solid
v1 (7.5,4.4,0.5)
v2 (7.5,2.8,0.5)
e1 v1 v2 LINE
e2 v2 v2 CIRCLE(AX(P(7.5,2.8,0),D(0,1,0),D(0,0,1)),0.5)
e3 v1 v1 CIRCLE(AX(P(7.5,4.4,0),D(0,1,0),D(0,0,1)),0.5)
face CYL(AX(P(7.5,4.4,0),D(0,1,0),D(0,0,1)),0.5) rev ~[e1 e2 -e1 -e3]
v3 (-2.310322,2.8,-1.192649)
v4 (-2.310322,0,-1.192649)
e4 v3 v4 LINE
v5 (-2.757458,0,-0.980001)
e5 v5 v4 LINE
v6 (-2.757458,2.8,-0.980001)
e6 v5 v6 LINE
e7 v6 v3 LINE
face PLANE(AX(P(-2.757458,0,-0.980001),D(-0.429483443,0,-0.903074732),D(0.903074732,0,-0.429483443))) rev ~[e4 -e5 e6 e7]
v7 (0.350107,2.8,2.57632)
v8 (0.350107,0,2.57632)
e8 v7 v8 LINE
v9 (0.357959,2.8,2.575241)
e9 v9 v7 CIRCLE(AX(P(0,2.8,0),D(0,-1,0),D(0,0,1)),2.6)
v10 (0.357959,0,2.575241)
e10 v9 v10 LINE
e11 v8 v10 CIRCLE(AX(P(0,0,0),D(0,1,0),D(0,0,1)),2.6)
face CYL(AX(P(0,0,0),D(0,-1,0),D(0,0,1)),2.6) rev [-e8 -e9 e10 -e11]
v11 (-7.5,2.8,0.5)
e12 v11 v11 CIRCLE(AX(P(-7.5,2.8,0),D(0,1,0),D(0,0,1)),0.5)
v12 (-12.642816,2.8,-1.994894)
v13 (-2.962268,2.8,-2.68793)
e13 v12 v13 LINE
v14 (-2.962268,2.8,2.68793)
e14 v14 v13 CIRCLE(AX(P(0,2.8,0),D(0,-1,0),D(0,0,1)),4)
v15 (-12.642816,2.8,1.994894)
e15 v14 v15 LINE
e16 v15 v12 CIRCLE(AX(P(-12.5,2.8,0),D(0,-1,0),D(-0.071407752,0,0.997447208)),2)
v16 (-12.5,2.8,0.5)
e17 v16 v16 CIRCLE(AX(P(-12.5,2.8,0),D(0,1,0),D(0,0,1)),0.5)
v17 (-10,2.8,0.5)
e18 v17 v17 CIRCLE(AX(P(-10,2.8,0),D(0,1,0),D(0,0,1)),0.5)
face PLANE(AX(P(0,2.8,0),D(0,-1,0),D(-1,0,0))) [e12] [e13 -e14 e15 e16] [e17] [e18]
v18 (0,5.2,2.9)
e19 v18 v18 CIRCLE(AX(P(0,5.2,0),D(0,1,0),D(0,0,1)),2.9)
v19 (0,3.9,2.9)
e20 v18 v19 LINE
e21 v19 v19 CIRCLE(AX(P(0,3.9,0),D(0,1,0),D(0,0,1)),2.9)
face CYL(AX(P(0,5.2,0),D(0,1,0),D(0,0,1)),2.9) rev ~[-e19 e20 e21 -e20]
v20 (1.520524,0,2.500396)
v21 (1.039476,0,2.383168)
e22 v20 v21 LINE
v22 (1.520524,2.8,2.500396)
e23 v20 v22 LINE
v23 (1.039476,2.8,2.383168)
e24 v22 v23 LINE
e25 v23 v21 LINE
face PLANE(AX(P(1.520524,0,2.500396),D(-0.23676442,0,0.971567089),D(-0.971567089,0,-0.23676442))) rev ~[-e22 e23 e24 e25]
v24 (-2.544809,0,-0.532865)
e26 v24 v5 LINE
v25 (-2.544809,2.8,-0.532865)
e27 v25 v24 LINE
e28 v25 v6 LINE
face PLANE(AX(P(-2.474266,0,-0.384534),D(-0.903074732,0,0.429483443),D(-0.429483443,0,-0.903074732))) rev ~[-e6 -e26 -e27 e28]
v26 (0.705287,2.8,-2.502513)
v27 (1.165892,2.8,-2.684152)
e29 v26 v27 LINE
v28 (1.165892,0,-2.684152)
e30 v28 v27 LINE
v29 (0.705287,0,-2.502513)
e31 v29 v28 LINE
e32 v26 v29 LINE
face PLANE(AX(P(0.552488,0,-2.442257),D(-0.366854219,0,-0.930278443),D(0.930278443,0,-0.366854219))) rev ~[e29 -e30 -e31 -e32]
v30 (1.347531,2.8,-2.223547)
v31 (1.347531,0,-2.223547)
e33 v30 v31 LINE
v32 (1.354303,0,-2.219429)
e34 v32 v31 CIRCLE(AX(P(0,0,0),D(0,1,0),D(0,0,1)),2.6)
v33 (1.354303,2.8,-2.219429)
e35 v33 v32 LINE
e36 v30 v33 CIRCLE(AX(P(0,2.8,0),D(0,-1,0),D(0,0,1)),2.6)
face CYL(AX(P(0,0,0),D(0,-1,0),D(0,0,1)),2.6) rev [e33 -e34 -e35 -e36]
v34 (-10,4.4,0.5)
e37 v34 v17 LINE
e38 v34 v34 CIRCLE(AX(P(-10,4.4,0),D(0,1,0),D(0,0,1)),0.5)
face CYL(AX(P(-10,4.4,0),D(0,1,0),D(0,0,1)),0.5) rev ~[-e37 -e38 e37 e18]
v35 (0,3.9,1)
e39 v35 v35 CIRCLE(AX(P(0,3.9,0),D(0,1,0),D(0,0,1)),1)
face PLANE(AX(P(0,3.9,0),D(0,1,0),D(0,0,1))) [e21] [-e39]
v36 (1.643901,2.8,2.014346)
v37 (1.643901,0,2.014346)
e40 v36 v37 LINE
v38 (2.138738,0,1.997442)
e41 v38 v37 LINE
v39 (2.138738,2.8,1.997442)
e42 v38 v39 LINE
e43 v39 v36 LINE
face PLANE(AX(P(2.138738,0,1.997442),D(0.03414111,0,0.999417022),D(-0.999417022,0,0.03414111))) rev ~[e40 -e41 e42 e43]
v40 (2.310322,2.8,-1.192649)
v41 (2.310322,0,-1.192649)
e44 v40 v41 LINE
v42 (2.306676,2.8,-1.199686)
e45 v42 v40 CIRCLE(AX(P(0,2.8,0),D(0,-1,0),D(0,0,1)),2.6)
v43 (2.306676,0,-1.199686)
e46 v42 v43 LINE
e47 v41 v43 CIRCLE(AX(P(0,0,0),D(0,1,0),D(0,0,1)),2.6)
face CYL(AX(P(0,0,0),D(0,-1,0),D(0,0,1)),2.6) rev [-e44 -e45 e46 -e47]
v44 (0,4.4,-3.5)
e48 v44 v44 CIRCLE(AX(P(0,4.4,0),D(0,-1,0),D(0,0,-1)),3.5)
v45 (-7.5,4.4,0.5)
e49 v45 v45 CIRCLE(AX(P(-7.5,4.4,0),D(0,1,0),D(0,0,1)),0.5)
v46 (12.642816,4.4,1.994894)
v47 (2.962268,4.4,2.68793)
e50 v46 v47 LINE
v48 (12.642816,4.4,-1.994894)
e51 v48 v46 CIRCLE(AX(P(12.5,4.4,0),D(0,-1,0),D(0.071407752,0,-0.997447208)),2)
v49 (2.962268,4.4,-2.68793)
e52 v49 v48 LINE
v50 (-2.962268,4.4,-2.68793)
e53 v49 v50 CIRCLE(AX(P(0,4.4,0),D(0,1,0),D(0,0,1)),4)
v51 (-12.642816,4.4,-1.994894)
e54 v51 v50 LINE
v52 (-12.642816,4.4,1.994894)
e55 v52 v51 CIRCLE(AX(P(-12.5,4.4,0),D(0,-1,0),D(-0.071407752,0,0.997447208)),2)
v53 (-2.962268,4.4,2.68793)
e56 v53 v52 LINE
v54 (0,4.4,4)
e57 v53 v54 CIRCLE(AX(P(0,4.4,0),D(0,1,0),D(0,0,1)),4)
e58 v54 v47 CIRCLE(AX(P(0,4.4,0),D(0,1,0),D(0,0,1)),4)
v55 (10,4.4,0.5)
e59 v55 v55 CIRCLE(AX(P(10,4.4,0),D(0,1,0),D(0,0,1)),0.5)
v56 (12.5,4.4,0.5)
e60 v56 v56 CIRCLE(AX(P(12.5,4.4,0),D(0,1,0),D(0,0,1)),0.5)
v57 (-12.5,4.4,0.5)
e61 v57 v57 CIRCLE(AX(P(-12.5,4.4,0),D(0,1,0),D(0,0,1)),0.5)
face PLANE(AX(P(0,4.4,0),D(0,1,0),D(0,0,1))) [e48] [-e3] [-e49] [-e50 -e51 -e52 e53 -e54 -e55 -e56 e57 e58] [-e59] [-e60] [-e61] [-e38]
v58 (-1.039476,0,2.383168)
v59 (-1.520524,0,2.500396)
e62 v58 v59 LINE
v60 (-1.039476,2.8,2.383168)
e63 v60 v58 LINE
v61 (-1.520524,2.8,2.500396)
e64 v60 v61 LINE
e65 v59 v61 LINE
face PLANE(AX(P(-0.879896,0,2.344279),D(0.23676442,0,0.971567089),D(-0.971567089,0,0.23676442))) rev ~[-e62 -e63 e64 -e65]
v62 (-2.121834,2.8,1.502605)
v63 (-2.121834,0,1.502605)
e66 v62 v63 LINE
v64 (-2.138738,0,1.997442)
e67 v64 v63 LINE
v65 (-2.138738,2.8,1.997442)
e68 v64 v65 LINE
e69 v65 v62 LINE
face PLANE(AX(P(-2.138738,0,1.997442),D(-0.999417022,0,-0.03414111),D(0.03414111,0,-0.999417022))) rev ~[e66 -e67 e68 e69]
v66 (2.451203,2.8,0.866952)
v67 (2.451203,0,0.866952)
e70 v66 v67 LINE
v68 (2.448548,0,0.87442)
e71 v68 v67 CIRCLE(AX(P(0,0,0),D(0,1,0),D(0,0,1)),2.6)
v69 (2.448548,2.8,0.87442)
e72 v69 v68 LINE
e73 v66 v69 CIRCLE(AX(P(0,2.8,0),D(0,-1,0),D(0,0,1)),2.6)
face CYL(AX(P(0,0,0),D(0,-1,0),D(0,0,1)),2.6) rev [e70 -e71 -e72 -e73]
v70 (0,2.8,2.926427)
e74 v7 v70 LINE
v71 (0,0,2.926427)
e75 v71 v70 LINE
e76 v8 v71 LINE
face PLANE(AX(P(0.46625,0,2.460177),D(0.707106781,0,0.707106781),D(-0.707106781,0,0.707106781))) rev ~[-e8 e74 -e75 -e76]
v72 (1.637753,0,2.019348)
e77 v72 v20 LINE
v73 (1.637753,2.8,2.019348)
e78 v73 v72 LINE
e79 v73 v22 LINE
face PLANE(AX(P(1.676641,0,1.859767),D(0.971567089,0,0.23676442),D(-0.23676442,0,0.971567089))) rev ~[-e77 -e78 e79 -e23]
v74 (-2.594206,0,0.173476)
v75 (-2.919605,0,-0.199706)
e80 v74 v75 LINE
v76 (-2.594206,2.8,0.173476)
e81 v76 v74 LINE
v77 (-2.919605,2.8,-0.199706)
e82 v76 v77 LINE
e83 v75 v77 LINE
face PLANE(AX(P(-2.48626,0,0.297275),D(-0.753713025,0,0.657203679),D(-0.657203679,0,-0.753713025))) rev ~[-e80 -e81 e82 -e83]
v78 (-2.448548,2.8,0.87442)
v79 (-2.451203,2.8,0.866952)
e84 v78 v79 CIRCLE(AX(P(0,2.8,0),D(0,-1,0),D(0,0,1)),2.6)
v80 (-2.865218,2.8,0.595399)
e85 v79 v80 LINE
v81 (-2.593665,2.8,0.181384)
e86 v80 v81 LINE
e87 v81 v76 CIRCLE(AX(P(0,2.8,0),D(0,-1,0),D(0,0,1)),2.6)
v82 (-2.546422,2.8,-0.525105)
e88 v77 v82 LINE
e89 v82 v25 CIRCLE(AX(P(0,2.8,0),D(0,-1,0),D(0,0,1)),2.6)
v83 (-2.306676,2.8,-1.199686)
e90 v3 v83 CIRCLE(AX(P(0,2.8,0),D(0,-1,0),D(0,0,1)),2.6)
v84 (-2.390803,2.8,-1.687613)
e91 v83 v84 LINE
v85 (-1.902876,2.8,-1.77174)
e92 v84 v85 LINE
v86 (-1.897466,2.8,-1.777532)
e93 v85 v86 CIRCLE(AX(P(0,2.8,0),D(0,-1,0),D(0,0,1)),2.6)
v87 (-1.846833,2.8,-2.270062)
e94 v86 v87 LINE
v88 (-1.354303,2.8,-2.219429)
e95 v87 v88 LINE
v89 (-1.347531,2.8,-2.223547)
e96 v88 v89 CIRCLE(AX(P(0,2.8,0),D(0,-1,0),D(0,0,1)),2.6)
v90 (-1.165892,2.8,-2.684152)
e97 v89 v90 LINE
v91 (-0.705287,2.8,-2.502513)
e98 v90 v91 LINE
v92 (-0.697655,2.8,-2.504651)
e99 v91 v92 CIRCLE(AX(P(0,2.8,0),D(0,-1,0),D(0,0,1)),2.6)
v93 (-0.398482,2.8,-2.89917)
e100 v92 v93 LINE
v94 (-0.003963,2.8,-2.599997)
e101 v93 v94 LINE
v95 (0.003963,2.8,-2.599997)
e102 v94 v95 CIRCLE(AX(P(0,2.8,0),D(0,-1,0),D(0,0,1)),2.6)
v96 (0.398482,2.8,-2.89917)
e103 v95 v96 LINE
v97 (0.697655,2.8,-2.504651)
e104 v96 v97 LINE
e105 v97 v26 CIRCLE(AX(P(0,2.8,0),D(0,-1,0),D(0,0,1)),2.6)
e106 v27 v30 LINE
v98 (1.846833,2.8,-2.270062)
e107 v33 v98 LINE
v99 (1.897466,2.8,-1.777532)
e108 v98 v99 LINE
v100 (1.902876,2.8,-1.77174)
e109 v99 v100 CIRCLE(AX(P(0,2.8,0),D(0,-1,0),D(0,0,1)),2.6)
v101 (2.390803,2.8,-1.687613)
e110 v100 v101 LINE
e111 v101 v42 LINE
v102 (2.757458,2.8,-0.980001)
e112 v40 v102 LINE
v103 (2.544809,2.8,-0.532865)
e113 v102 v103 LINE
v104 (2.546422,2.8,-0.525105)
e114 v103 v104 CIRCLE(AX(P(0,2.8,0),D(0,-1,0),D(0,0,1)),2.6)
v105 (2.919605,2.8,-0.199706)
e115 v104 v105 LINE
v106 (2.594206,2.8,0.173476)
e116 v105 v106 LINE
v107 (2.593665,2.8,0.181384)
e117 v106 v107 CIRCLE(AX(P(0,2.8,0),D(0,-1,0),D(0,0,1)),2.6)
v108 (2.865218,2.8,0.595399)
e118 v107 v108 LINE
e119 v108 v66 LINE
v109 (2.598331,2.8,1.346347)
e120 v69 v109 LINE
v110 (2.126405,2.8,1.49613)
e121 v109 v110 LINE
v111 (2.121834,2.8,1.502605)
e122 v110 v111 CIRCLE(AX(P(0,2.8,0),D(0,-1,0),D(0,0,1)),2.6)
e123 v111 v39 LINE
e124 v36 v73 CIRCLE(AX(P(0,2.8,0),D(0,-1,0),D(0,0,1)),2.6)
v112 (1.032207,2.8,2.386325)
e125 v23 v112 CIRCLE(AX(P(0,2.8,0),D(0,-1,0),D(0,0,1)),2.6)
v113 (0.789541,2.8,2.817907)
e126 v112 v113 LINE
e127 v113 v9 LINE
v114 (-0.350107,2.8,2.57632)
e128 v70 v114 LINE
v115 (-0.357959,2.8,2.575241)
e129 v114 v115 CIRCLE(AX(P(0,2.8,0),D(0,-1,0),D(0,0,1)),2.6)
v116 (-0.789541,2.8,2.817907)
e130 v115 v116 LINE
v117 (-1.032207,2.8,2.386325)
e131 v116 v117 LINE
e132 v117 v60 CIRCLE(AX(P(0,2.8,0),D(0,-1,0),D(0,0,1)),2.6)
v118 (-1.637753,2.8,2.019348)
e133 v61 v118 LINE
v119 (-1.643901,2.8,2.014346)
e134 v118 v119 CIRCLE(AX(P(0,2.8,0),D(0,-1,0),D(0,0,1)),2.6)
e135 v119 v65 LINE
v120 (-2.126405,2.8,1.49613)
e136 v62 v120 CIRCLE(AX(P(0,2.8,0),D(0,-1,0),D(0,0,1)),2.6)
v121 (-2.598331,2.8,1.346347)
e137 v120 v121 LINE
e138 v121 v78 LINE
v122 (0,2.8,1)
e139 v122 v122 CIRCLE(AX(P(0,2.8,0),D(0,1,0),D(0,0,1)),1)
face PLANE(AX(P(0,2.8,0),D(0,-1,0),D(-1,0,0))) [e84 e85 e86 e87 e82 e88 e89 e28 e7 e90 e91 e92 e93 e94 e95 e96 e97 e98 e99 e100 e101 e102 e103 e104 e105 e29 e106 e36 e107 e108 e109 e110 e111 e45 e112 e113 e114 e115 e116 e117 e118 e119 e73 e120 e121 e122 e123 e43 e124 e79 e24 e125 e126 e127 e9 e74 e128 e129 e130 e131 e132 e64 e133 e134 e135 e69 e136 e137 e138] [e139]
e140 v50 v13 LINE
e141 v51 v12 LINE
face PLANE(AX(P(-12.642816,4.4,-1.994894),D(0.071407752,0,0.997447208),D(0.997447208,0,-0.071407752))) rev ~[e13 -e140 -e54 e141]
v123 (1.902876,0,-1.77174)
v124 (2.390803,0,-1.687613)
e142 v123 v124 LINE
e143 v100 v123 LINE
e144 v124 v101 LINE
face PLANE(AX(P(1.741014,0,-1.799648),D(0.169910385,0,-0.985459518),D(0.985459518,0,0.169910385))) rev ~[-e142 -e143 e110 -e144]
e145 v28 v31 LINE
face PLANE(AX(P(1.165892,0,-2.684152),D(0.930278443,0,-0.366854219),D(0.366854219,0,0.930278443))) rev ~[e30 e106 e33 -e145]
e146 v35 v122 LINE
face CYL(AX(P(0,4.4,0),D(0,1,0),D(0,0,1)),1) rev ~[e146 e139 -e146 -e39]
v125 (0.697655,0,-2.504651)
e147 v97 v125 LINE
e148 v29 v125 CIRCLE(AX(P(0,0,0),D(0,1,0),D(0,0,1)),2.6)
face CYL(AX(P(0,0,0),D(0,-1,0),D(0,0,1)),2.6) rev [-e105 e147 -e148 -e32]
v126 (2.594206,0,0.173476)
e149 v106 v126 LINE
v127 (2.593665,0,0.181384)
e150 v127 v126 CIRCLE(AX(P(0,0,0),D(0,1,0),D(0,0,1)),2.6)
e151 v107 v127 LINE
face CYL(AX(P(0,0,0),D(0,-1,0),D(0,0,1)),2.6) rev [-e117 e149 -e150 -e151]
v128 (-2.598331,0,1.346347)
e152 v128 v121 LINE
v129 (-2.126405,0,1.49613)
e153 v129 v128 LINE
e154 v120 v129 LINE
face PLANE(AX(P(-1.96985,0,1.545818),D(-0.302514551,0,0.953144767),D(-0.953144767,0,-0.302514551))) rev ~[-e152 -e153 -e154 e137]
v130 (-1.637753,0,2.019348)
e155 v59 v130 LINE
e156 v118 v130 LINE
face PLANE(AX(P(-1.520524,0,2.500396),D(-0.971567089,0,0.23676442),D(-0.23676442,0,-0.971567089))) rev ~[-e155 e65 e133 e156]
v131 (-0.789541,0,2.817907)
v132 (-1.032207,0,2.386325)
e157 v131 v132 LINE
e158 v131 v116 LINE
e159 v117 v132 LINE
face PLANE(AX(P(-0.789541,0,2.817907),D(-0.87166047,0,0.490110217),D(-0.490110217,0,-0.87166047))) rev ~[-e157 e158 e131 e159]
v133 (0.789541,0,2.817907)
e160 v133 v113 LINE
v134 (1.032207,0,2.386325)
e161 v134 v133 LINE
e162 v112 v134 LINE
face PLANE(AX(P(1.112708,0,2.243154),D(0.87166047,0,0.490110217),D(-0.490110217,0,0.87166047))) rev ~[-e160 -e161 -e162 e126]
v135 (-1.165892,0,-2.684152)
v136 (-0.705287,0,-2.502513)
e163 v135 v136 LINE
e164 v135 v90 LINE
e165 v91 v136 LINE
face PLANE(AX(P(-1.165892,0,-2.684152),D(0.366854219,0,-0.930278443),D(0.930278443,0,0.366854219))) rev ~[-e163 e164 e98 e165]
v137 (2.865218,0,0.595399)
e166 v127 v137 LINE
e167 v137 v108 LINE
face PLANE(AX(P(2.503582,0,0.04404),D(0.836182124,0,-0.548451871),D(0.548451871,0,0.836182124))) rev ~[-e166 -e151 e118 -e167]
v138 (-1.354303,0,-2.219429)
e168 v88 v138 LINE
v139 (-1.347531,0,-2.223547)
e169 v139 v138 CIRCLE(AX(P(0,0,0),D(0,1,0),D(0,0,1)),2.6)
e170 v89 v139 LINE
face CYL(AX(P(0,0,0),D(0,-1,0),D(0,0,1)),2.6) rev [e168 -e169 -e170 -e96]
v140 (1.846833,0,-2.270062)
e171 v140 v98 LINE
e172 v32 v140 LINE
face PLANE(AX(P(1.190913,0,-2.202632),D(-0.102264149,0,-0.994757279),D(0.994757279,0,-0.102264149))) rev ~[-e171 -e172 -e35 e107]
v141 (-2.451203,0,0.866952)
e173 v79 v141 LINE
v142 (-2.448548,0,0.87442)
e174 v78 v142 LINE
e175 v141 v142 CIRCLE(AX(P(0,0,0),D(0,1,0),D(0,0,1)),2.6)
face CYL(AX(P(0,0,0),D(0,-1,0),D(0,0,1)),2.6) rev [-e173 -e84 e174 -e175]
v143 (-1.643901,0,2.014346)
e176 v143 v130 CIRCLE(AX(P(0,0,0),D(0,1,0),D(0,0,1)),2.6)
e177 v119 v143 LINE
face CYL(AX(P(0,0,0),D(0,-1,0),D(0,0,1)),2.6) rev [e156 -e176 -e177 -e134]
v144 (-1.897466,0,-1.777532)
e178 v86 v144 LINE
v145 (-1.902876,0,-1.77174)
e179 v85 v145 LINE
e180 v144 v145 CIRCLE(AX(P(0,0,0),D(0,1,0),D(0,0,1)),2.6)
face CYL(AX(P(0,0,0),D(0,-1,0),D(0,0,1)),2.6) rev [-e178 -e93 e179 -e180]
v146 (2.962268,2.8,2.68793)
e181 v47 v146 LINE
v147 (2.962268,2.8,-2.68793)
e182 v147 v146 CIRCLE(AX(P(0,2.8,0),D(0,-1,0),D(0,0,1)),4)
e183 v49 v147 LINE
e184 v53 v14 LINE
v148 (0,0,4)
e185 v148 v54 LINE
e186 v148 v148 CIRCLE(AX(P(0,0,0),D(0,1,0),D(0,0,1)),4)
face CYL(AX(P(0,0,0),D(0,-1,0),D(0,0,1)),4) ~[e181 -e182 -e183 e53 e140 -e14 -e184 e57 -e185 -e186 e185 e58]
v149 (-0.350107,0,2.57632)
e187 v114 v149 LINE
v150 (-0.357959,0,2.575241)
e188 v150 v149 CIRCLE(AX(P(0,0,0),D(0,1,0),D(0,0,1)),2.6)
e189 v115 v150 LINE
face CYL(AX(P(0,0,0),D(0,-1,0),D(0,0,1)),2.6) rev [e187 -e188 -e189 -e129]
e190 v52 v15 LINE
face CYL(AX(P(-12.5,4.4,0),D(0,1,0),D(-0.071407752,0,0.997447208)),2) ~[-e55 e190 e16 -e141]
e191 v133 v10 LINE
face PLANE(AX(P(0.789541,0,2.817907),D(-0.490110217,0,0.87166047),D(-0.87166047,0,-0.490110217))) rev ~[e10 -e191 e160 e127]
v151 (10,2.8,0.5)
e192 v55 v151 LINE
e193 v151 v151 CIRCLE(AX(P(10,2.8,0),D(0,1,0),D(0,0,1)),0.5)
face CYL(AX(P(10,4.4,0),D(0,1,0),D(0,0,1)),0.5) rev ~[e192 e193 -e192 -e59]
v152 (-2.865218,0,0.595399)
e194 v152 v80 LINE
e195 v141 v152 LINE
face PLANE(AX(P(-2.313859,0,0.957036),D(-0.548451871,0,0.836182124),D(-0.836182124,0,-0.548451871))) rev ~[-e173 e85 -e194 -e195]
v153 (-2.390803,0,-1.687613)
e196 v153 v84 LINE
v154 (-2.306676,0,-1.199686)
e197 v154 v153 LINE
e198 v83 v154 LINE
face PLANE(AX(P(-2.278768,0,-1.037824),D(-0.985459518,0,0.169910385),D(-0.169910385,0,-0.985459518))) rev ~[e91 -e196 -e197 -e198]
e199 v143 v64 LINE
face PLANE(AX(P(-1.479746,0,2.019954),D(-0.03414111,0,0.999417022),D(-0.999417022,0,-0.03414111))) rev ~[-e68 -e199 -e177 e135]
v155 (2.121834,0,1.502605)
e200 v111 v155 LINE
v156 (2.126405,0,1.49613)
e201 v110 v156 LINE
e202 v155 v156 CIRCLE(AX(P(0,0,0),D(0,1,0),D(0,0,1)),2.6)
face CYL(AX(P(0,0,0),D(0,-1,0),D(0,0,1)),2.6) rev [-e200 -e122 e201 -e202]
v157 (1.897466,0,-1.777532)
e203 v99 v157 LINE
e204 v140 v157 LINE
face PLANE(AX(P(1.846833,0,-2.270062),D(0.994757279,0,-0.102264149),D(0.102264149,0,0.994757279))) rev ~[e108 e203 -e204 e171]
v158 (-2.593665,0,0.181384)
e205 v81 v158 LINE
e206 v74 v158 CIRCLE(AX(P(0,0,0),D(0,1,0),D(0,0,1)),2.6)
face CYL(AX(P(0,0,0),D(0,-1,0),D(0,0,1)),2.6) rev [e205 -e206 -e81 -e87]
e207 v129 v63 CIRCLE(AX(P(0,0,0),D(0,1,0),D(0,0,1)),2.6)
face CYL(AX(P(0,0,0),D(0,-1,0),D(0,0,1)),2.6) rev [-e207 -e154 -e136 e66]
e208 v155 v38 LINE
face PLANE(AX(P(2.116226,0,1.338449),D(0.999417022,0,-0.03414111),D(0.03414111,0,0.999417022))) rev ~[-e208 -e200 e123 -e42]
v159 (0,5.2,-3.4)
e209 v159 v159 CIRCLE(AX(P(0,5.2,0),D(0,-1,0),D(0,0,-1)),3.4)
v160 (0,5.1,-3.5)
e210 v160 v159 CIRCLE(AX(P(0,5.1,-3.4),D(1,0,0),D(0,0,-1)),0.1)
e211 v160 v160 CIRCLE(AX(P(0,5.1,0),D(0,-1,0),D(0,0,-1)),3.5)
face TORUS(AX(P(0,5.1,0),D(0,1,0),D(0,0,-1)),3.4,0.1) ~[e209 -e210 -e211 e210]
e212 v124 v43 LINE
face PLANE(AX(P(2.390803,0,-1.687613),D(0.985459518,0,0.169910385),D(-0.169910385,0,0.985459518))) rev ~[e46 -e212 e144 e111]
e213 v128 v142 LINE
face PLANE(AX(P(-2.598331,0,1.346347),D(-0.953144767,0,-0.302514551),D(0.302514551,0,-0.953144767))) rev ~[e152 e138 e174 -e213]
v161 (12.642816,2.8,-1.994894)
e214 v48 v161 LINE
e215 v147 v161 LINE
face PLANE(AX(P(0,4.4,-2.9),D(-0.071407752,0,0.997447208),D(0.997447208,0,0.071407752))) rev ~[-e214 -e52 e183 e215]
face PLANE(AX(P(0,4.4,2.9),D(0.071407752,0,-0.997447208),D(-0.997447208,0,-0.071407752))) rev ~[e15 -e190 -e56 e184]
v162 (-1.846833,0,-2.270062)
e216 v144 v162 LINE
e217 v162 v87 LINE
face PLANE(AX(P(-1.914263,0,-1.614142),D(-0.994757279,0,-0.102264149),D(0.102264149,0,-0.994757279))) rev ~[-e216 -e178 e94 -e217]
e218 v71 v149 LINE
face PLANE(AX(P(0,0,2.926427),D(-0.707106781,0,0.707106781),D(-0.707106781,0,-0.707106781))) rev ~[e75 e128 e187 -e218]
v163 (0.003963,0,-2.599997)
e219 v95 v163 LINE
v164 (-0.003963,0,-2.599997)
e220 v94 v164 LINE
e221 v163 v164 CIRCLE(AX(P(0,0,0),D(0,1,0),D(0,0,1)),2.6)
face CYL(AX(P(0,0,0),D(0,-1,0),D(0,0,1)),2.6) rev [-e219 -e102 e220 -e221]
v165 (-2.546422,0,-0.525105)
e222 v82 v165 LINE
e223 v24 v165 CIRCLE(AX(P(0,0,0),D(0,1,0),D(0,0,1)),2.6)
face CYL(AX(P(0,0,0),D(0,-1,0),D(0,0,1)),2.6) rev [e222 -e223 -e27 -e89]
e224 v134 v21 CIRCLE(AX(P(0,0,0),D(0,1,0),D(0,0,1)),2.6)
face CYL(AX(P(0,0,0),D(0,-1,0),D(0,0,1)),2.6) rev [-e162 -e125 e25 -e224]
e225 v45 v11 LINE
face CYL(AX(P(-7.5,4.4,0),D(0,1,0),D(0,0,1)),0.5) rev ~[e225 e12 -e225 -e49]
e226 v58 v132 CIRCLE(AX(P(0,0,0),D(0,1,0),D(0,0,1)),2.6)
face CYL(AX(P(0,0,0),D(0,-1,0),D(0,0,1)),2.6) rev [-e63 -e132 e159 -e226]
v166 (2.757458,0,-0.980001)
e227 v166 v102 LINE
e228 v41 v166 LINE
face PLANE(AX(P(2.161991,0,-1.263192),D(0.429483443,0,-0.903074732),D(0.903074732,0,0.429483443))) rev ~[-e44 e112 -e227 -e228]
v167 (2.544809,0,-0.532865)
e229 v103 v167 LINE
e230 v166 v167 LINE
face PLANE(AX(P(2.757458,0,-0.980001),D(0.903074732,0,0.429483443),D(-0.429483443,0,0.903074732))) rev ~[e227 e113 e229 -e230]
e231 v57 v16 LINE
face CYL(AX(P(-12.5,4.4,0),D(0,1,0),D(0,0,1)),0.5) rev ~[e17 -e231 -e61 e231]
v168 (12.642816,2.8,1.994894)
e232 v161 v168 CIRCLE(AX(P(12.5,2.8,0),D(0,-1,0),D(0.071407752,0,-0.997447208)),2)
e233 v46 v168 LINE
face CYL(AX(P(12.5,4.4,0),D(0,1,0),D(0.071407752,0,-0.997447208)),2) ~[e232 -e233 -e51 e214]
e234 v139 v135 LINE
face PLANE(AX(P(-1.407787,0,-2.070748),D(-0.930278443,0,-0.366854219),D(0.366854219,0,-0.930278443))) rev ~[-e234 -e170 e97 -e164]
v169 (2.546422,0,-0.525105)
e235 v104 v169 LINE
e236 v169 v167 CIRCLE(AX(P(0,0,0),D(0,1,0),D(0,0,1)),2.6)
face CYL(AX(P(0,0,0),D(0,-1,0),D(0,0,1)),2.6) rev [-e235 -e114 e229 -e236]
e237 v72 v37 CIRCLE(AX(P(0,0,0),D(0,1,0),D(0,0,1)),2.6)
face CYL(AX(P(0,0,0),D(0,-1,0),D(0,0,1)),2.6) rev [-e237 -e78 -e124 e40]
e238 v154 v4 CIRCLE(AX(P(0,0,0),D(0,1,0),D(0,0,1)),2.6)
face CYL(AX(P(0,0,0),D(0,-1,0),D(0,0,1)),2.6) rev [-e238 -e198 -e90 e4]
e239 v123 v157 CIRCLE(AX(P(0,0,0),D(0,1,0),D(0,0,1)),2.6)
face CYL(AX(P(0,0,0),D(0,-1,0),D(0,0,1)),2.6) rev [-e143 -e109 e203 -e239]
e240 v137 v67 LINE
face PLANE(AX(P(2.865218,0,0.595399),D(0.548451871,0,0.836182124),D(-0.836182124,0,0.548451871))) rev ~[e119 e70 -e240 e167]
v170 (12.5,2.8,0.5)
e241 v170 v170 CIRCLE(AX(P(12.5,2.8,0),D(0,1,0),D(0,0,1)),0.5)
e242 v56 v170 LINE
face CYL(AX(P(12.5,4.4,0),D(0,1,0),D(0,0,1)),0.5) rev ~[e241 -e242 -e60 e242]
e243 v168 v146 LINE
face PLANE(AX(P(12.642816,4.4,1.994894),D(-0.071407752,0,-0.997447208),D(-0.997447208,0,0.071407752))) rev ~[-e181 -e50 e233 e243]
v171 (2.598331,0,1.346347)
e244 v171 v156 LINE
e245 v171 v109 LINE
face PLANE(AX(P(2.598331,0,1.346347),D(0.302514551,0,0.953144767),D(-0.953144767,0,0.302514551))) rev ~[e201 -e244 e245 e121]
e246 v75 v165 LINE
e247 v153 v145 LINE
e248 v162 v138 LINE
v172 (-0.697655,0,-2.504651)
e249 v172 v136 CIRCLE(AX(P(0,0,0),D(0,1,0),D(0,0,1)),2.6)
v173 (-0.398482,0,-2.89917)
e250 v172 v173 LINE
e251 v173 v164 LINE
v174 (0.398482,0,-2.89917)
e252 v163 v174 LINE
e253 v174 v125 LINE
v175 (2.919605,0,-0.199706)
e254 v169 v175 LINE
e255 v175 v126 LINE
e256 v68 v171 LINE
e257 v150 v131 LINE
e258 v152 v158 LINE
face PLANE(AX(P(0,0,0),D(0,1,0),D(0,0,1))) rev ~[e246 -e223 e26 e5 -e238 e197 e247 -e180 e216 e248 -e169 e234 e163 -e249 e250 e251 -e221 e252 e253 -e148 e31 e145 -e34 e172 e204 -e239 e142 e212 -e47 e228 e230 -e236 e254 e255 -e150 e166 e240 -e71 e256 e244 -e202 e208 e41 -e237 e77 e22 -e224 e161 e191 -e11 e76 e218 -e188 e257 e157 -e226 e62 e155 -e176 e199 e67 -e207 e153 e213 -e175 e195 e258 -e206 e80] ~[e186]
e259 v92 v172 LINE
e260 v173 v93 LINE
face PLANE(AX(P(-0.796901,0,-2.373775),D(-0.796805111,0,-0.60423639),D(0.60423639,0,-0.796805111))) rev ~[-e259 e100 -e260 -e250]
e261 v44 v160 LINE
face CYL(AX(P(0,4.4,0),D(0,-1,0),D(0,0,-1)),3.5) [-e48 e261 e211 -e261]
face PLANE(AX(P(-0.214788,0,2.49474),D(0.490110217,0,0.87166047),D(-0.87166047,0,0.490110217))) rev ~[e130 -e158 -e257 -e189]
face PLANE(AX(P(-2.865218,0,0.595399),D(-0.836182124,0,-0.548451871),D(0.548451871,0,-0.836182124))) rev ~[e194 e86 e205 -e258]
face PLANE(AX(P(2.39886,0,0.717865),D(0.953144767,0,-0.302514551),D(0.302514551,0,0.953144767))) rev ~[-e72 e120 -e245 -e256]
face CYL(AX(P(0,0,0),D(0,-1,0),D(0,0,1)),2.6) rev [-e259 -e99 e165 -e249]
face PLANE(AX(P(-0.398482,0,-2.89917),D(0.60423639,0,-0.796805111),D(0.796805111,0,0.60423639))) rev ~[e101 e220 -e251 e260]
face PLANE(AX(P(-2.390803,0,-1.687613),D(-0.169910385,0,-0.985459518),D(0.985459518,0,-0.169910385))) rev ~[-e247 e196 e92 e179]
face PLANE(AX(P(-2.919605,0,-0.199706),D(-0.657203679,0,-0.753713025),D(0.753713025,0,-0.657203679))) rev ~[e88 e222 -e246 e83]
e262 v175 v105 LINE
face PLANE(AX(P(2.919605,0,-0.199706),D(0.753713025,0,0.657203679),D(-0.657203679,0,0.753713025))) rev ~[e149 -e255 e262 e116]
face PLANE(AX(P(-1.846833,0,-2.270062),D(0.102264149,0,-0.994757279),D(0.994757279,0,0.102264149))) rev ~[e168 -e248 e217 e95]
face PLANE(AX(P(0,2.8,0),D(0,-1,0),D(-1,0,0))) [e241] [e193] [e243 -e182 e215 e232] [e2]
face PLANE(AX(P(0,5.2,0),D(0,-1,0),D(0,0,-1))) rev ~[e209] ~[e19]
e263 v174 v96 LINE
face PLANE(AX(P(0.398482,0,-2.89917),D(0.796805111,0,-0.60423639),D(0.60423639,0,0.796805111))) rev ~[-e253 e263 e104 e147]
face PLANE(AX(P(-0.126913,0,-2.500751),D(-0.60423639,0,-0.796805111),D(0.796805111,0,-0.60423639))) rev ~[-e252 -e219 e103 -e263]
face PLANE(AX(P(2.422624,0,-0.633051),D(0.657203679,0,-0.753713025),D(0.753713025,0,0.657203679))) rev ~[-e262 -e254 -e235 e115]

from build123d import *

# Parameters (mm, degrees)
SKETCH1_R           = 4
SKETCH1_R_2         = 2.6
BOSS_EXTRUDE1_DEPTH = 4.4
SKETCH2_R           = 0.5
SKETCH2_R_2         = 1
BOSS_EXTRUDE2_DEPTH = 1.6
SKETCH3_R           = 3.5
BOSS_EXTRUDE3_DEPTH = 0.8
SKETCH4_R           = 2.9
CUT_EXTRUDE1_DEPTH  = 1.3
FILLET1_R           = 0.1
CUT_EXTRUDE2_DEPTH  = 2.8
CIRPATTERN1_COUNT   = 23


with BuildPart() as part:
    # Sketch1 → Boss-Extrude1 (new body)
    with BuildSketch(Plane(origin=(0, 0, 0), x_dir=(1, 0, 0), z_dir=(0, 1, 0))):
        with Locations(Location((0, 0, 0), (0, 0, 270))):
            Circle(SKETCH1_R)
        with Locations(Location((0, 0, 0), (0, 0, 270))):
            Circle(SKETCH1_R_2, mode=Mode.SUBTRACT)
    extrude(amount=BOSS_EXTRUDE1_DEPTH)

    # Sketch2 → Boss-Extrude2 (add)
    with BuildSketch(Plane(origin=(0, 4.4, 0), x_dir=(1, 0, 0), z_dir=(0, 1, 0))):
        with BuildLine():
            Line((0, 2.9), (12.642815505, 1.994894416))
            ThreePointArc((12.642815505, 1.994894416), (14.5, 0), (12.642815505, -1.994894416))
            Line((12.642815505, -1.994894416), (0, -2.9))
            Line((0, -2.9), (-12.642815505, -1.994894416))
            ThreePointArc((-12.642815505, -1.994894416), (-14.5, 0), (-12.642815505, 1.994894416))
            Line((-12.642815505, 1.994894416), (0, 2.9))
        make_face()
        with Locations(Location((12.5, 0, 0), (0, 0, 270))):
            Circle(SKETCH2_R, mode=Mode.SUBTRACT)
        with Locations(Location((10, 0, 0), (0, 0, 270))):
            Circle(SKETCH2_R, mode=Mode.SUBTRACT)
        with Locations(Location((7.5, 0, 0), (0, 0, 270))):
            Circle(SKETCH2_R, mode=Mode.SUBTRACT)
        with Locations(Location((-7.5, 0, 0), (0, 0, 270))):
            Circle(SKETCH2_R, mode=Mode.SUBTRACT)
        with Locations(Location((-10, 0, 0), (0, 0, 270))):
            Circle(SKETCH2_R, mode=Mode.SUBTRACT)
        with Locations(Location((-12.5, 0, 0), (0, 0, 270))):
            Circle(SKETCH2_R, mode=Mode.SUBTRACT)
        with Locations(Location((0, 0, 0), (0, 0, 270))):
            Circle(SKETCH2_R_2, mode=Mode.SUBTRACT)
    extrude(amount=-BOSS_EXTRUDE2_DEPTH)

    # Sketch3 → Boss-Extrude3 (add)
    with BuildSketch(Plane(origin=(0, 4.4, 0), x_dir=(-1, 0, 0), z_dir=(0, -1, 0))):
        with Locations(Location((0, 0, 0), (0, 0, 90))):
            Circle(SKETCH3_R)
    extrude(amount=-BOSS_EXTRUDE3_DEPTH)

    # Sketch4 → Cut-Extrude1 (cut)
    with BuildSketch(Plane(origin=(0, 5.2, 0), x_dir=(1, 0, 0), z_dir=(0, 1, 0))):
        with Locations(Location((0, 0, 0), (0, 0, 270))):
            Circle(SKETCH4_R)
    extrude(amount=-CUT_EXTRUDE1_DEPTH, mode=Mode.SUBTRACT)

    # Fillet1
    fillet1_edges = [part.edges().sort_by_distance(p)[0] for p in [
        (0, 5.2, 3.5),
    ]]
    fillet(fillet1_edges, radius=FILLET1_R)

    # Sketch5 → Cut-Extrude2 (cut)
    with BuildSketch(Plane.XZ):
        Polygon((-0.466249863, 2.460177118), (0.466249863, 2.460177118), (0, 2.926426981), align=None)
    cut_extrude2 = extrude(amount=-CUT_EXTRUDE2_DEPTH, mode=Mode.SUBTRACT)

    # CirPattern1: Cut-Extrude2 ×23 about axis
    cirpattern1_axis = Axis((0, 0, 0), (0, 1, 0))
    for i in range(1, CIRPATTERN1_COUNT):
        add(cut_extrude2.rotate(cirpattern1_axis, i * 360 / CIRPATTERN1_COUNT), mode=Mode.SUBTRACT)


solid = part.part
